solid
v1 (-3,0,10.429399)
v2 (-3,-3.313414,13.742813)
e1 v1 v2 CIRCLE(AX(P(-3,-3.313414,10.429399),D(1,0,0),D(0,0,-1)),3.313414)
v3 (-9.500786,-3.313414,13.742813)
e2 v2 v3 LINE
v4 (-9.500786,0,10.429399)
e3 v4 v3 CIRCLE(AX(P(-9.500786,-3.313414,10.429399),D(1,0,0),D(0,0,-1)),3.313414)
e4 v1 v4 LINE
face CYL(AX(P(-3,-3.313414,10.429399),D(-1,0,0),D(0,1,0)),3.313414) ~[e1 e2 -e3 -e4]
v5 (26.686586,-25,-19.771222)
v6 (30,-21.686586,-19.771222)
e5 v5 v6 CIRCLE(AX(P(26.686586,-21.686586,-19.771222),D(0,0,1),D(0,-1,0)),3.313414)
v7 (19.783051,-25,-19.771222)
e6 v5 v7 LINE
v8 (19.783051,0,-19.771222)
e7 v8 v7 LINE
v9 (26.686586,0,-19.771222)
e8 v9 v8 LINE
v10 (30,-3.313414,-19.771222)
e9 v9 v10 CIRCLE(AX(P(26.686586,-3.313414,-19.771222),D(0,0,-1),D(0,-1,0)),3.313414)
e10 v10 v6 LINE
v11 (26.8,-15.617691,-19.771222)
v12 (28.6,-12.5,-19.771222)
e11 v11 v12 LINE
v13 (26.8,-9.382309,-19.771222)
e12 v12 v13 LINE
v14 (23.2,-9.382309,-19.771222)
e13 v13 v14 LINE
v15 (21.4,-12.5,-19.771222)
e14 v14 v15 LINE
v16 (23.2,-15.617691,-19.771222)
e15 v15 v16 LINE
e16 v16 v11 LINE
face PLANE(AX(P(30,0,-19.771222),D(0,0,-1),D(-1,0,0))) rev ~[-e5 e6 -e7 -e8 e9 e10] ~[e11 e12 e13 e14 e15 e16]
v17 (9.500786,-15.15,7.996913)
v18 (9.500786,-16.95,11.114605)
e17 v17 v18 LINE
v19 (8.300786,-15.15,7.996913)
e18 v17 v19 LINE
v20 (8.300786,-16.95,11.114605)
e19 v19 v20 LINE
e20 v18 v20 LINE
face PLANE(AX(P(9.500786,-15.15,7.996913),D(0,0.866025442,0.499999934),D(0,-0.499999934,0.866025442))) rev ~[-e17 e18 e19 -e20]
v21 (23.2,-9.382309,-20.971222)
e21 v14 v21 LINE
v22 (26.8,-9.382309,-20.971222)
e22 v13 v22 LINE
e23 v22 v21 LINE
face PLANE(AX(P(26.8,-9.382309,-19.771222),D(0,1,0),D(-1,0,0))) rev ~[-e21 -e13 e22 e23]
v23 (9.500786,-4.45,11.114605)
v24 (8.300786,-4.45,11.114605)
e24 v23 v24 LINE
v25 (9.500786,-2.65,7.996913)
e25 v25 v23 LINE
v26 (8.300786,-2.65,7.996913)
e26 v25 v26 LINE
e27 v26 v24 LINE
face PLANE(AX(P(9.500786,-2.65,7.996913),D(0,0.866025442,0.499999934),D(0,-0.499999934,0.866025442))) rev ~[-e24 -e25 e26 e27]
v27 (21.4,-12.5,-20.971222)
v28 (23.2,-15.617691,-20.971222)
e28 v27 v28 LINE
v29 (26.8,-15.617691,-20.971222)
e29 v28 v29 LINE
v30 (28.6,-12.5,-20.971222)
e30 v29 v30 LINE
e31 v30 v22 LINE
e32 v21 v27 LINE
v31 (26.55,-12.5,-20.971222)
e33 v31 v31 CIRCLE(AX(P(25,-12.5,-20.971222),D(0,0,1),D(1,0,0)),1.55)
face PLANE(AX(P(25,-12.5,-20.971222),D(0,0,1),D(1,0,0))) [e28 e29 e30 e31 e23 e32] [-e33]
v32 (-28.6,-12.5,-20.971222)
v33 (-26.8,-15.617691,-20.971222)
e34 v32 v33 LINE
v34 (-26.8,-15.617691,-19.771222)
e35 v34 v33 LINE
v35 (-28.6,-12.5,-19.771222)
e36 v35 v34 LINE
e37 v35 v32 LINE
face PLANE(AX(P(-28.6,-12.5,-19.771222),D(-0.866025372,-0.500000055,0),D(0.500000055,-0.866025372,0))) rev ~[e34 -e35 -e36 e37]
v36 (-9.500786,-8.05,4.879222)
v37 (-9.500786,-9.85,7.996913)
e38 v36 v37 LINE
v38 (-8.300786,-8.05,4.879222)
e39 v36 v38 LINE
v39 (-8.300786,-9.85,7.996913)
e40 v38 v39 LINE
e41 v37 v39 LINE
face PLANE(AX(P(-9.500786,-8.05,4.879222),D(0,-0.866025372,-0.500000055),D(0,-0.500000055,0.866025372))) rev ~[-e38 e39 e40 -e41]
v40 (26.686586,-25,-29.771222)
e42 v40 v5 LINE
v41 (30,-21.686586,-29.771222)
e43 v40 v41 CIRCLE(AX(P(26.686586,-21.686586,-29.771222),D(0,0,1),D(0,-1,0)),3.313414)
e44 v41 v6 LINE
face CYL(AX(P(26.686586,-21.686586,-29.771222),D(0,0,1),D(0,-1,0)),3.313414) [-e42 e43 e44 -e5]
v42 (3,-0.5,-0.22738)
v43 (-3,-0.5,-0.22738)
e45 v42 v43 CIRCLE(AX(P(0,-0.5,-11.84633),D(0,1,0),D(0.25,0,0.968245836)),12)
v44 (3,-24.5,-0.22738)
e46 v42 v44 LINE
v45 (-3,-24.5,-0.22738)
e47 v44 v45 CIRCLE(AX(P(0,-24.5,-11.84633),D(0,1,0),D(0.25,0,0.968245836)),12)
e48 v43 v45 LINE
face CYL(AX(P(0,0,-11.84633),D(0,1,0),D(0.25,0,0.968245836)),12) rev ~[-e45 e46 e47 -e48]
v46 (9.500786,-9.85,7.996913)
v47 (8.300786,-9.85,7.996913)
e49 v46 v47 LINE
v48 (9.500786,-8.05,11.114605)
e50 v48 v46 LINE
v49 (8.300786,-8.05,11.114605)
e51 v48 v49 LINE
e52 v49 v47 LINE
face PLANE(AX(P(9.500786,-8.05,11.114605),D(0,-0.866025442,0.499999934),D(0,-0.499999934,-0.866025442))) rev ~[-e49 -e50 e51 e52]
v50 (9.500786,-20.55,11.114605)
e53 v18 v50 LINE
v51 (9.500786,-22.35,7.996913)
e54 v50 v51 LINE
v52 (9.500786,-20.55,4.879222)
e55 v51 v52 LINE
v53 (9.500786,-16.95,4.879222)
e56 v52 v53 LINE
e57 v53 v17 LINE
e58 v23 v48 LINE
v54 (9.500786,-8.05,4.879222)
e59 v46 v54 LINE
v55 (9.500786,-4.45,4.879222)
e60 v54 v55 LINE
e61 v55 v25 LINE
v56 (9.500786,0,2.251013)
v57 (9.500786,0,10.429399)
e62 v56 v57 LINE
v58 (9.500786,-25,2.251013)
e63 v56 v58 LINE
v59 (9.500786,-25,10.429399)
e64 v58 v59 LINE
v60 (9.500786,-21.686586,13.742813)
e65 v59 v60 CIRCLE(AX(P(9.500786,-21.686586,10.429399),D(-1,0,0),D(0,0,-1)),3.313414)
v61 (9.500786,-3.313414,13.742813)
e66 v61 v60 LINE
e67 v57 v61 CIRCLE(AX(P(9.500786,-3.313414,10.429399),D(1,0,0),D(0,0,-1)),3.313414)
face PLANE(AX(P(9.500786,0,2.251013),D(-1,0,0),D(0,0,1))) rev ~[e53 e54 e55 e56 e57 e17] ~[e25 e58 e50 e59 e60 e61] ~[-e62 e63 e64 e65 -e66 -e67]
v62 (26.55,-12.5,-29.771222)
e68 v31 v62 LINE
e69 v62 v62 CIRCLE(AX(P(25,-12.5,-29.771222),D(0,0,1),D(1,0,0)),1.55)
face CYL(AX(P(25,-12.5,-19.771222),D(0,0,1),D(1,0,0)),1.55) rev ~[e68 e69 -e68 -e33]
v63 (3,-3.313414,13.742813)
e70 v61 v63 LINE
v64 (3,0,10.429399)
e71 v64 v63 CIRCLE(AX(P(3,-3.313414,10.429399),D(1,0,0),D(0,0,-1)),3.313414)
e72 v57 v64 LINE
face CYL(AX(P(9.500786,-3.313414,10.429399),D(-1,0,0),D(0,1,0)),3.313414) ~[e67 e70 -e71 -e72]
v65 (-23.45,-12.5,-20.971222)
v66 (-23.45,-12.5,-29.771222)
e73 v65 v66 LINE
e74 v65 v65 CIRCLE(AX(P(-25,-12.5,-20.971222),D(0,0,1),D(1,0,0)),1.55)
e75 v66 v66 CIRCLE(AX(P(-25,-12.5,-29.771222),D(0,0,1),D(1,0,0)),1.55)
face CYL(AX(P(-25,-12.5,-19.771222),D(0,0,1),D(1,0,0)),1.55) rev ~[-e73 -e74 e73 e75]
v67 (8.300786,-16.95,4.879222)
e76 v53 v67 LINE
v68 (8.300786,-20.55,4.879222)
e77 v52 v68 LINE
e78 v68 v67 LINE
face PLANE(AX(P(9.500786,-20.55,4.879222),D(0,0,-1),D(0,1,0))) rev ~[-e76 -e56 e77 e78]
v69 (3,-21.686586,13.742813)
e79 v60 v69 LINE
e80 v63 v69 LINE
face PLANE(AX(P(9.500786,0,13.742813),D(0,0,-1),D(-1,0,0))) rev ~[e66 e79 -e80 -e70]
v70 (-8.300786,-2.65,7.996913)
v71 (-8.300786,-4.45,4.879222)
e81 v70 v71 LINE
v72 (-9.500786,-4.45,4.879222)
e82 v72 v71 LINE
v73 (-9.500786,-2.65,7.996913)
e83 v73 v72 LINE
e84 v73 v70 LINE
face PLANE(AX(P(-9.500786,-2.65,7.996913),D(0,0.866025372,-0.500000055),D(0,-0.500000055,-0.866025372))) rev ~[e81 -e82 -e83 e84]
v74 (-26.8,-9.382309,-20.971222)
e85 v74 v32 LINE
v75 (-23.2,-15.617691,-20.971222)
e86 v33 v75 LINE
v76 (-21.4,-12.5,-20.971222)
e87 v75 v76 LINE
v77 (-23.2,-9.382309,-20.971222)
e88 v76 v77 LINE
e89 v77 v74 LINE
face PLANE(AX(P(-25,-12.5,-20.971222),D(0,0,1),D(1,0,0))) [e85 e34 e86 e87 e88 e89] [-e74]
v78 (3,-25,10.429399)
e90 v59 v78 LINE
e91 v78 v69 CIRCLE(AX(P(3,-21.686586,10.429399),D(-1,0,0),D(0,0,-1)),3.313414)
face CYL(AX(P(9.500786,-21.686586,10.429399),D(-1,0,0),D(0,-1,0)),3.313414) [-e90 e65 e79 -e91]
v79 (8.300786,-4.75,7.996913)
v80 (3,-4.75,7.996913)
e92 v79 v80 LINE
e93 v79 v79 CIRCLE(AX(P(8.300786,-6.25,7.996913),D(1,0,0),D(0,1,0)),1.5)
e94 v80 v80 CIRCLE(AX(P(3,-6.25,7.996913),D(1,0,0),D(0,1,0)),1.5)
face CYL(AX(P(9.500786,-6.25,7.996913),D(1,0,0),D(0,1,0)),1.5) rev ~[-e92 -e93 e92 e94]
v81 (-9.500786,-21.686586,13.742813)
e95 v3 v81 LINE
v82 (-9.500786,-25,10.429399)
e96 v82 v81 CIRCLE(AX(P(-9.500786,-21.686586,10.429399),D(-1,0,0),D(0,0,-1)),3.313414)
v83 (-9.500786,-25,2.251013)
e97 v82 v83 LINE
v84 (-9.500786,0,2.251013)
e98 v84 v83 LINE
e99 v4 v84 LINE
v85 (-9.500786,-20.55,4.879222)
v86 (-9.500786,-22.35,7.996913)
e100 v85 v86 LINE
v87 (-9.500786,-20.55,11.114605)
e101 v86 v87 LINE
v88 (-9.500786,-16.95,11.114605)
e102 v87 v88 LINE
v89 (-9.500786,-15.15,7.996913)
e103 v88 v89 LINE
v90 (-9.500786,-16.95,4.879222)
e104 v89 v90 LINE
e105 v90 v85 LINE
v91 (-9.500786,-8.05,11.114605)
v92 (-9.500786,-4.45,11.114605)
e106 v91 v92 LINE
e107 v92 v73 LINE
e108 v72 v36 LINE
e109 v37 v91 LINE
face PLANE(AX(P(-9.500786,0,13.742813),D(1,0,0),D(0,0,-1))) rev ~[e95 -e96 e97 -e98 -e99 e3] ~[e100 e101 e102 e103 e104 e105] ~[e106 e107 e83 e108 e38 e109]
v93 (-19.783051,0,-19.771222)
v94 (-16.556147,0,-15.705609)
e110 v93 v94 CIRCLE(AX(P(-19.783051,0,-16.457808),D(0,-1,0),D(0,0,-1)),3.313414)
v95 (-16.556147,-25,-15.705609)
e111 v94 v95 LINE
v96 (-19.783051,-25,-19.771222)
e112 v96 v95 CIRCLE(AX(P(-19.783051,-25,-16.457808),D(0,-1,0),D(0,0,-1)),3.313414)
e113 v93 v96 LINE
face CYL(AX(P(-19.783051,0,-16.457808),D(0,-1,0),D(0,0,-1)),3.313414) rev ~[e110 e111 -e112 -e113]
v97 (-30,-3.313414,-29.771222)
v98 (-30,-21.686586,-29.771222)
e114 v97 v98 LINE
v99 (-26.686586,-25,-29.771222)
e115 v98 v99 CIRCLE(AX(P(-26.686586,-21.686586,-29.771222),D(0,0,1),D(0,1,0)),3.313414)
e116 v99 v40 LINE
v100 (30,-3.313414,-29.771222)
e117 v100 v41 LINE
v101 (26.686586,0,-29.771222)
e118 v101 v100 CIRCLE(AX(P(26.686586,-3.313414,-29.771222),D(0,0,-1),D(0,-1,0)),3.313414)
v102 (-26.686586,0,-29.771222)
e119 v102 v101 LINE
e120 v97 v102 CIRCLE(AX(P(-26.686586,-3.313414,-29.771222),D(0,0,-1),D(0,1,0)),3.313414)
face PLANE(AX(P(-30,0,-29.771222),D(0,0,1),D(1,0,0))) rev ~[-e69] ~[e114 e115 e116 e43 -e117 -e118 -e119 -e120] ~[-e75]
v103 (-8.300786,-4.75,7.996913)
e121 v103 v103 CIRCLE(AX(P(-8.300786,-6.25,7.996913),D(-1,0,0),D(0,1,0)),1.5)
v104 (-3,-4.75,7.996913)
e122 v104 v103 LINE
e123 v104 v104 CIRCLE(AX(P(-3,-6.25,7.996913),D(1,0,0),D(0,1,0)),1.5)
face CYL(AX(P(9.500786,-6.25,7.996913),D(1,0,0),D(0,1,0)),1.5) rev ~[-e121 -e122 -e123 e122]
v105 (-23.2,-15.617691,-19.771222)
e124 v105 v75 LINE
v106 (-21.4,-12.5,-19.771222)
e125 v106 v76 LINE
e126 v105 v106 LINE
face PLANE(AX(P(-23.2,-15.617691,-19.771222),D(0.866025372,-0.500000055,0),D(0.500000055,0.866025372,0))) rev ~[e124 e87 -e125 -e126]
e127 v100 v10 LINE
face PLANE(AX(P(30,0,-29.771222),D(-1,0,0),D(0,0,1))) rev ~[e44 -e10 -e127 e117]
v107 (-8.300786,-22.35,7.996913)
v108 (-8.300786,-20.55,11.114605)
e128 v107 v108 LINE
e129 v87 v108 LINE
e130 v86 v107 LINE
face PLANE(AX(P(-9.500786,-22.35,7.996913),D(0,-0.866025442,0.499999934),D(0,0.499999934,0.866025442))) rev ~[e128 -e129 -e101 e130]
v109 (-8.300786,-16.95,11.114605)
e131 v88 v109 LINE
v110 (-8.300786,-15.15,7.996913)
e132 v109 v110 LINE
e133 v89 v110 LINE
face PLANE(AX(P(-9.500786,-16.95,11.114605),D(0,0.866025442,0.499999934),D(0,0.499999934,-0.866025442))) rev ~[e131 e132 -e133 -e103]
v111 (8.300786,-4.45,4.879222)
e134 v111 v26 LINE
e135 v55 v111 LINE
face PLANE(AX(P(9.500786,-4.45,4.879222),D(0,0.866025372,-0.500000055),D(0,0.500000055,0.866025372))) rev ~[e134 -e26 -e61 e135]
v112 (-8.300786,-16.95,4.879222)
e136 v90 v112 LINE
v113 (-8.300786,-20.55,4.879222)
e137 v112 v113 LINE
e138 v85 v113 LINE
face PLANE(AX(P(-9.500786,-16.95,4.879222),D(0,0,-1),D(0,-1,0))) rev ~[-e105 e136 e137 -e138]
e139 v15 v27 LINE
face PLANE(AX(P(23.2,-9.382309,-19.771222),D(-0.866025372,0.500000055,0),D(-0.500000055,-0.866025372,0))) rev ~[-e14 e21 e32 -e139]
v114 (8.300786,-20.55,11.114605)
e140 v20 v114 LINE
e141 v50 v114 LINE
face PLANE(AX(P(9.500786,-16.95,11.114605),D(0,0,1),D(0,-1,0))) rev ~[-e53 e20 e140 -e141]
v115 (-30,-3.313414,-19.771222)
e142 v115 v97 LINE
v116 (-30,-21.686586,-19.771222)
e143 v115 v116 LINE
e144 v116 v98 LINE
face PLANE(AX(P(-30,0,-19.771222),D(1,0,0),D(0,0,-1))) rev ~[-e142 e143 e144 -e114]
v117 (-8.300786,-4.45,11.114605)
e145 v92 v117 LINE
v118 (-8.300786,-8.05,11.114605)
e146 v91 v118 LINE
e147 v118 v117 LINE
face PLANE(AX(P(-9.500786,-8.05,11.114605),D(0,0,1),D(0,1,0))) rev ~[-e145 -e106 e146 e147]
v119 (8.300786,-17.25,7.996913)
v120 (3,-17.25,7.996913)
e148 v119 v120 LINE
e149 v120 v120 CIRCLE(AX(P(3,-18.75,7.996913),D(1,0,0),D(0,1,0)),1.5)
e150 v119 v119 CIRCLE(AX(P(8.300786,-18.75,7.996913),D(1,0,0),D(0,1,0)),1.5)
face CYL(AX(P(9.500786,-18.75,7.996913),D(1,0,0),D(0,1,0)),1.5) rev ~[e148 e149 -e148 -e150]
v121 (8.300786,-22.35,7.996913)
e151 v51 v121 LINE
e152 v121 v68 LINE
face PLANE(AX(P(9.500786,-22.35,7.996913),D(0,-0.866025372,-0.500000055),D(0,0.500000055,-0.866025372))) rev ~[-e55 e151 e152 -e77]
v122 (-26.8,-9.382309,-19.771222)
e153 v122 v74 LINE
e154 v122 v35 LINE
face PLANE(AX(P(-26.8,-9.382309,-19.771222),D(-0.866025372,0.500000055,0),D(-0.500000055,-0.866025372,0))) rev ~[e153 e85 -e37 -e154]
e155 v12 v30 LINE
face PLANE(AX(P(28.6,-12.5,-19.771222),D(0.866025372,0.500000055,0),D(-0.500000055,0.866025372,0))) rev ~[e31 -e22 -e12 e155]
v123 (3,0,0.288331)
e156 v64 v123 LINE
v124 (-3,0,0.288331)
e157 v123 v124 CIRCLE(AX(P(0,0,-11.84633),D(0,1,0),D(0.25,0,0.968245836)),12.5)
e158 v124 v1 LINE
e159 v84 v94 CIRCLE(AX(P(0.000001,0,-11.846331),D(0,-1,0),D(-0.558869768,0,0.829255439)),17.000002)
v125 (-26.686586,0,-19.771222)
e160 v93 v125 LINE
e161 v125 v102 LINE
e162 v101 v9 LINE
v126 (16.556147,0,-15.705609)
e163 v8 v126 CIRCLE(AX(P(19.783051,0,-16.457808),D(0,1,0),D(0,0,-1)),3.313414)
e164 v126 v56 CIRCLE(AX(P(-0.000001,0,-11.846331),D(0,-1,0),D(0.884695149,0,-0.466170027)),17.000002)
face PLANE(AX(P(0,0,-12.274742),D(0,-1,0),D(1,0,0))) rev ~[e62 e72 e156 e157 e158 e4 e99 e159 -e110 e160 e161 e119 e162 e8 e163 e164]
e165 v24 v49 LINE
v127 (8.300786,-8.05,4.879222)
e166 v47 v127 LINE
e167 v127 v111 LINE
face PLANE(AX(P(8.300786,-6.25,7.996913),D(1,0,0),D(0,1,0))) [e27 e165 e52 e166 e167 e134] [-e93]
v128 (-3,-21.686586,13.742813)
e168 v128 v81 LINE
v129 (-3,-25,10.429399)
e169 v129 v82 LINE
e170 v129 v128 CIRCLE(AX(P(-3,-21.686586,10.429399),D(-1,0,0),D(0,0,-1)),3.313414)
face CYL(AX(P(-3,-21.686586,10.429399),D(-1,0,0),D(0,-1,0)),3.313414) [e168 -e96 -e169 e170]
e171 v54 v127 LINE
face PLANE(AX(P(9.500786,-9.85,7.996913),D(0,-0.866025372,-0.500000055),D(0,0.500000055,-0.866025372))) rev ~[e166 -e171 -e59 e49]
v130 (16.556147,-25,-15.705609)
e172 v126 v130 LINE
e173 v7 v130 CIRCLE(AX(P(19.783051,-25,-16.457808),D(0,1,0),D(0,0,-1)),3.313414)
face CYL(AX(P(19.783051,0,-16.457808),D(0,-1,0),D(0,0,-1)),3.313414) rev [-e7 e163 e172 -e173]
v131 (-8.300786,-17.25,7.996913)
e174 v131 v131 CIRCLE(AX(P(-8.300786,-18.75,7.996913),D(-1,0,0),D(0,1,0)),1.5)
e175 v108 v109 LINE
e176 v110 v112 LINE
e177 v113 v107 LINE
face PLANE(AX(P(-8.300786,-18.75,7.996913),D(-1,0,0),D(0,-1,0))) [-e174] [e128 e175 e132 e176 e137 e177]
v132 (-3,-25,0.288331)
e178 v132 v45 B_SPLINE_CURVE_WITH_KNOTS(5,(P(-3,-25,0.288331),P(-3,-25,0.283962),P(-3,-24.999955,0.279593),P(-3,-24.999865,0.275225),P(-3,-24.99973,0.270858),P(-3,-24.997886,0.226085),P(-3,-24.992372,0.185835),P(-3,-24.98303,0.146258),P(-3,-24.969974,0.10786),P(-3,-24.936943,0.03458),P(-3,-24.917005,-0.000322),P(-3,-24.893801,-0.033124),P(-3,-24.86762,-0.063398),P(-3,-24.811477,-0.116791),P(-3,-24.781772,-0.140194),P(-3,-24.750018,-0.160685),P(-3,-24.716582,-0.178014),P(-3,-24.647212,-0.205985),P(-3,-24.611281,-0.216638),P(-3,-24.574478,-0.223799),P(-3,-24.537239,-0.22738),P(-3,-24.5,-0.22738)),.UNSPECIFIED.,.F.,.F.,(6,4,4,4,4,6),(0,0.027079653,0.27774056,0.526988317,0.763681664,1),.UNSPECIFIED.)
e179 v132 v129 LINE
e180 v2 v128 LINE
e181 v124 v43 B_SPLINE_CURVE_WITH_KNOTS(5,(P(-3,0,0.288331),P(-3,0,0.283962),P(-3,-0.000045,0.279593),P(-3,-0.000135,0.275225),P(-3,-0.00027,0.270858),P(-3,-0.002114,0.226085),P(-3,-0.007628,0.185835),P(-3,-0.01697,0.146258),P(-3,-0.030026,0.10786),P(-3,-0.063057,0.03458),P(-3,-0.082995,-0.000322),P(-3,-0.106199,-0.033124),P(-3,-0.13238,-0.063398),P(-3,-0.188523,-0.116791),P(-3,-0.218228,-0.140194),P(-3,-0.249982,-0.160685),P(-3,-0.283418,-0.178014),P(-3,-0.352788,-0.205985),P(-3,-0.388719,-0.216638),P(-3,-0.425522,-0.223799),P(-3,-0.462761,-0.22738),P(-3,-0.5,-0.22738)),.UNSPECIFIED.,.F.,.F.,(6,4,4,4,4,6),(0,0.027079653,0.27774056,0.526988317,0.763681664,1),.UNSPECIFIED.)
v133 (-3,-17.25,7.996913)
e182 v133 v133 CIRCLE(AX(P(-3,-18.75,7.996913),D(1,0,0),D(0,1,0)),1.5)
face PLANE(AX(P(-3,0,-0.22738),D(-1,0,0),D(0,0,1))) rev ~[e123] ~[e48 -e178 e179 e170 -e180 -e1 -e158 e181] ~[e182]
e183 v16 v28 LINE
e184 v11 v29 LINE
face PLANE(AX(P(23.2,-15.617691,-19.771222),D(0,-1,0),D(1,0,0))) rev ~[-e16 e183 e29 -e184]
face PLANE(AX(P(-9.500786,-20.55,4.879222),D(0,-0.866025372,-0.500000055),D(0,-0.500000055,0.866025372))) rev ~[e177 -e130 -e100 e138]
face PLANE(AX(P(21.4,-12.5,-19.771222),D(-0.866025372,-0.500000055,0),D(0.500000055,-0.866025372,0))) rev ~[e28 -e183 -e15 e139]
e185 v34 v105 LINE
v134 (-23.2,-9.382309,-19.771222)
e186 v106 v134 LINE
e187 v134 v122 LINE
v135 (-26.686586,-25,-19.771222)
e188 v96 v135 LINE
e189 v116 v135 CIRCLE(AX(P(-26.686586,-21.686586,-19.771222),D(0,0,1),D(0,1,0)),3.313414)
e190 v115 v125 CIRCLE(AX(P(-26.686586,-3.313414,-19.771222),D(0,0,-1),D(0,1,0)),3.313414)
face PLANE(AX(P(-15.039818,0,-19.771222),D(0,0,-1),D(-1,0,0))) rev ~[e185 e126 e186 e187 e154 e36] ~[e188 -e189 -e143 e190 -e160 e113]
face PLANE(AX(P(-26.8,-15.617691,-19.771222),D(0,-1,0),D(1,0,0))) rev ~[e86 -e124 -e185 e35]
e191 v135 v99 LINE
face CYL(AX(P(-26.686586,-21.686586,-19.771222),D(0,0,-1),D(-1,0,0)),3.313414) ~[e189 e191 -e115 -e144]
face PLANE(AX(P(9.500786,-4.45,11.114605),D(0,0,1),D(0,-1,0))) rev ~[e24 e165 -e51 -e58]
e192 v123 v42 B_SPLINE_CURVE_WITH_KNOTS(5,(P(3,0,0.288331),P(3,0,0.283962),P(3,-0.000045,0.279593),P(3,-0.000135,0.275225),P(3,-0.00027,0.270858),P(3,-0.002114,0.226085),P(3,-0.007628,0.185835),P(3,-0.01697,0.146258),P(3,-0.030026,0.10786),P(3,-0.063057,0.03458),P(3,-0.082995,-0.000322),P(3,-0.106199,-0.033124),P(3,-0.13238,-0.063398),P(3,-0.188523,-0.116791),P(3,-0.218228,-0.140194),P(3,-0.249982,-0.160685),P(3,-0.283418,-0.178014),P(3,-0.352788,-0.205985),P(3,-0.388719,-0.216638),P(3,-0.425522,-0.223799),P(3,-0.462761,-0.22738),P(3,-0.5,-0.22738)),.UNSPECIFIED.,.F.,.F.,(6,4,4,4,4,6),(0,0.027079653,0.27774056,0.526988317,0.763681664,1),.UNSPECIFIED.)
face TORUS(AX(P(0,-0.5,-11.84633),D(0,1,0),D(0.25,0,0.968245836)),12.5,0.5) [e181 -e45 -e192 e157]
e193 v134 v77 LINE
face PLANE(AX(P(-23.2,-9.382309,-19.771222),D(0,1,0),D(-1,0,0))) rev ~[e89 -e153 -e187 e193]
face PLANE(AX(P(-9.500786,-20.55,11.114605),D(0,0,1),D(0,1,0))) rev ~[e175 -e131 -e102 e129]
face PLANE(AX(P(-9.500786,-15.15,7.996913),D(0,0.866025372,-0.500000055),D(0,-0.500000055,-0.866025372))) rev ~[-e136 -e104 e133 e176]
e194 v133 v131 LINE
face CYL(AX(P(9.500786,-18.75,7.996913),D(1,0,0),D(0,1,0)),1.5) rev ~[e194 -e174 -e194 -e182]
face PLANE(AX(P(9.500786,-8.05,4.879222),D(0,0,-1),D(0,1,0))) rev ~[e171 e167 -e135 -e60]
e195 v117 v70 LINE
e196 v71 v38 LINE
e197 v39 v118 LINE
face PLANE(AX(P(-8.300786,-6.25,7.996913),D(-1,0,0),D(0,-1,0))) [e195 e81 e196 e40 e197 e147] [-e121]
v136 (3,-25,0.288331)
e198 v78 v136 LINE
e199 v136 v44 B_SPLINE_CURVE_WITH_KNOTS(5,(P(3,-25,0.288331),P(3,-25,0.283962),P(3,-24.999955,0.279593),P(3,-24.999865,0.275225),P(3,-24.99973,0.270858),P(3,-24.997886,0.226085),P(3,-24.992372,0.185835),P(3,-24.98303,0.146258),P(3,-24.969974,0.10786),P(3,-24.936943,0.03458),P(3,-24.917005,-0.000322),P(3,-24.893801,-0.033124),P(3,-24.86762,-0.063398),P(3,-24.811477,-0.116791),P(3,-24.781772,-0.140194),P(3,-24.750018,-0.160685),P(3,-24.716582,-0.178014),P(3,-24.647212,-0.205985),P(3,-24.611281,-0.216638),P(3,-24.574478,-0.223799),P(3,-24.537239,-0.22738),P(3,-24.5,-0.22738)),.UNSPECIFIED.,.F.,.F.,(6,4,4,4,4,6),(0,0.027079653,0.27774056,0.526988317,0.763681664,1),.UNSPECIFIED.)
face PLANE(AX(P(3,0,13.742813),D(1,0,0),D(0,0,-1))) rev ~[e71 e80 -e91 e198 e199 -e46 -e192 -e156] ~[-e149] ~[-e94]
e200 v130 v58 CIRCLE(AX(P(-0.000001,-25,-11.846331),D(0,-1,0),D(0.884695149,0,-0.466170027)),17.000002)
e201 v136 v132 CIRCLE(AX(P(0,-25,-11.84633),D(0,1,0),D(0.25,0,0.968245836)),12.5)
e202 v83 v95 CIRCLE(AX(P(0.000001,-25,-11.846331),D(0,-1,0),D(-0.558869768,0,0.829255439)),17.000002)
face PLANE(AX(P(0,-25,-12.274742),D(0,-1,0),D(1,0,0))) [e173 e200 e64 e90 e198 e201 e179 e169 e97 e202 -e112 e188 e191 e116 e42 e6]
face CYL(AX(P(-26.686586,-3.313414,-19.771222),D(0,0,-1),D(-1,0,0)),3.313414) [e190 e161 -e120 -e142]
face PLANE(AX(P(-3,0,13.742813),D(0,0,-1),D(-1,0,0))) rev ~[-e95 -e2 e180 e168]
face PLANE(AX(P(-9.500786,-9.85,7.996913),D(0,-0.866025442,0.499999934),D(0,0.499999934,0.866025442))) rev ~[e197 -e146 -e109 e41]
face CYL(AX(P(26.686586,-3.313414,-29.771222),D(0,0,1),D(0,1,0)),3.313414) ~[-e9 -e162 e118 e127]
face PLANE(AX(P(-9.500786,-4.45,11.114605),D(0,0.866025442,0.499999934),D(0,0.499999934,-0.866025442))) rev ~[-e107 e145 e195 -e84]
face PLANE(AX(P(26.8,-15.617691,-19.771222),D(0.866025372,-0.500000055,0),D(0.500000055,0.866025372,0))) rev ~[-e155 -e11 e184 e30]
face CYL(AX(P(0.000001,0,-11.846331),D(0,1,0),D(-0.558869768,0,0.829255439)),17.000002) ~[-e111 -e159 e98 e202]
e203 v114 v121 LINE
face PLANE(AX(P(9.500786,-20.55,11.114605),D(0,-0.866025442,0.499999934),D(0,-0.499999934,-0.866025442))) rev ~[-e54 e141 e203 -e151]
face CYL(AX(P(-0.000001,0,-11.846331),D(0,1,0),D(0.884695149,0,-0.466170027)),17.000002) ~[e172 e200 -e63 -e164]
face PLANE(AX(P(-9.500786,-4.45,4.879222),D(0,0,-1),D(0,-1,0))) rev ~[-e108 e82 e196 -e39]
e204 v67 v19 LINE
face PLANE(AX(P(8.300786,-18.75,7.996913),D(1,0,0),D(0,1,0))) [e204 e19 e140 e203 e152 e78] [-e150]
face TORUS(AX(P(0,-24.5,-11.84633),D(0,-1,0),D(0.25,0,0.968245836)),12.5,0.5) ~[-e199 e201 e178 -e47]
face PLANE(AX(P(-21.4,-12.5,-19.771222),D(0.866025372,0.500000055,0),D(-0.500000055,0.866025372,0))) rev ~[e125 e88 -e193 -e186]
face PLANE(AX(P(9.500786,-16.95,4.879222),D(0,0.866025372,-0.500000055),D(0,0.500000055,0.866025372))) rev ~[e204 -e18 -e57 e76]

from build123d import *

# Parameters (mm, degrees)
F1_DEPTH  = 25
F2_R      = 1.55
F3_DEPTH  = 25
F4_R      = 1.5
F5_DEPTH  = 25
F6_R      = 3.313414
F9_DEPTH  = 1.2
F8_R      = 1.5
F10_DEPTH = 1.2
F12_DEPTH = 1.2
F13_R     = 0.5


with BuildPart() as f1:
    # F0 (on Front) → F1 (new body)
    with BuildSketch(Plane.XZ):
        with BuildLine():
            Line((-30, -29.771222), (30, -29.771222))
            Line((30, -29.771222), (30, -19.771222))
            Line((30, -19.771222), (15.039818, -19.771222))
            ThreePointArc((15.039818, -19.771222), (16.48651, -7.699644), (9.500786, 2.251013))
            Line((9.500786, 2.251013), (9.500786, 13.742813))
            Line((9.500786, 13.742813), (3, 13.742813))
            Line((3, 13.742813), (3, 4.886871))
            Line((3, 4.886871), (3, -0.22738))
            ThreePointArc((3, -0.22738), (0, -23.84633), (-3, -0.22738))
            Line((-3, -0.22738), (-3, 4.886871))
            Line((-3, 4.886871), (-3, 13.742813))
            Line((-3, 13.742813), (-9.500786, 13.742813))
            Line((-9.500786, 13.742813), (-9.500786, 2.251013))
            ThreePointArc((-9.500786, 2.251013), (-16.48651, -7.699644), (-15.039818, -19.771222))
            Line((-15.039818, -19.771222), (-30, -19.771222))
            Line((-30, -19.771222), (-30, -29.771222))
        make_face()
    extrude(amount=F1_DEPTH)

    # F2 (on face) → F3 (cut)
    with BuildSketch(Plane.XY.offset(-19.771222)):
        with Locations((-25, -12.5)):
            Circle(F2_R)
        with Locations((25, -12.5)):
            Circle(F2_R)
    extrude(amount=-F3_DEPTH, mode=Mode.SUBTRACT)

    # F4 (on face) → F5 (cut)
    with BuildSketch(Plane.YZ.offset(9.500786)):
        with Locations((-18.75, 7.996913)):
            Circle(F4_R)
        with Locations((-6.25, 7.996913)):
            Circle(F4_R)
    extrude(amount=-F5_DEPTH, mode=Mode.SUBTRACT)

    # F6
    f6_edges = [f1.edges().sort_by_distance(p)[0] for p in [
        (-6.250393, -25, 13.742813),
        (6.250393, -25, 13.742813),
        (-6.250393, 0, 13.742813),
        (6.250393, 0, 13.742813),
        (30, -25, -24.771222),
        (30, 0, -24.771222),
        (-30, 0, -24.771222),
        (-30, -25, -24.771222),
        (15.039818, -12.5, -19.771222),
        (-15.039818, -12.5, -19.771222),
    ]]
    fillet(f6_edges, radius=F6_R)

    # F7 (on face) → F9 (cut)
    with BuildSketch(Plane.YZ.offset(9.500786)):
        Polygon((-20.55, 4.879222), (-16.95, 4.879222), (-15.15, 7.996913), (-16.95, 11.114605), (-20.55, 11.114605), (-22.35, 7.996913), align=None)
        Polygon((-4.45, 11.114605), (-8.05, 11.114605), (-9.85, 7.996913), (-8.05, 4.879222), (-4.45, 4.879222), (-2.65, 7.996913), align=None)
    extrude(amount=-F9_DEPTH, mode=Mode.SUBTRACT)

    # F8 (on face) → F10 (cut)
    with BuildSketch(Plane(origin=(-9.500786, 0, 0), x_dir=(0, -1, 0), z_dir=(-1, 0, 0))):
        Polygon((4.45, 4.879222), (8.05, 4.879222), (9.85, 7.996913), (8.05, 11.114605), (4.45, 11.114605), (2.65, 7.996913), align=None)
        with Locations((6.25, 7.996913)):
            Circle(F8_R, mode=Mode.SUBTRACT)
        Polygon((20.55, 11.114605), (16.95, 11.114605), (15.15, 7.996913), (16.95, 4.879222), (20.55, 4.879222), (22.35, 7.996913), align=None)
        with Locations((18.75, 7.996913)):
            Circle(F8_R, mode=Mode.SUBTRACT)
    extrude(amount=-F10_DEPTH, mode=Mode.SUBTRACT)

    # F11 (on face) → F12 (cut)
    with BuildSketch(Plane.XY.offset(-19.771222)):
        Polygon((26.8, -9.382309), (23.2, -9.382309), (21.4, -12.5), (23.2, -15.617691), (26.8, -15.617691), (28.6, -12.5), align=None)
        Polygon((-23.2, -15.617691), (-21.4, -12.5), (-23.2, -9.382309), (-26.8, -9.382309), (-28.6, -12.5), (-26.8, -15.617691), align=None)
    extrude(amount=-F12_DEPTH, mode=Mode.SUBTRACT)

    # F13
    f13_edges = [f1.edges().sort_by_distance(p)[0] for p in [
        (0, 0, -23.84633),
        (0, -25, -23.84633),
    ]]
    fillet(f13_edges, radius=F13_R)


solid = f1.part
